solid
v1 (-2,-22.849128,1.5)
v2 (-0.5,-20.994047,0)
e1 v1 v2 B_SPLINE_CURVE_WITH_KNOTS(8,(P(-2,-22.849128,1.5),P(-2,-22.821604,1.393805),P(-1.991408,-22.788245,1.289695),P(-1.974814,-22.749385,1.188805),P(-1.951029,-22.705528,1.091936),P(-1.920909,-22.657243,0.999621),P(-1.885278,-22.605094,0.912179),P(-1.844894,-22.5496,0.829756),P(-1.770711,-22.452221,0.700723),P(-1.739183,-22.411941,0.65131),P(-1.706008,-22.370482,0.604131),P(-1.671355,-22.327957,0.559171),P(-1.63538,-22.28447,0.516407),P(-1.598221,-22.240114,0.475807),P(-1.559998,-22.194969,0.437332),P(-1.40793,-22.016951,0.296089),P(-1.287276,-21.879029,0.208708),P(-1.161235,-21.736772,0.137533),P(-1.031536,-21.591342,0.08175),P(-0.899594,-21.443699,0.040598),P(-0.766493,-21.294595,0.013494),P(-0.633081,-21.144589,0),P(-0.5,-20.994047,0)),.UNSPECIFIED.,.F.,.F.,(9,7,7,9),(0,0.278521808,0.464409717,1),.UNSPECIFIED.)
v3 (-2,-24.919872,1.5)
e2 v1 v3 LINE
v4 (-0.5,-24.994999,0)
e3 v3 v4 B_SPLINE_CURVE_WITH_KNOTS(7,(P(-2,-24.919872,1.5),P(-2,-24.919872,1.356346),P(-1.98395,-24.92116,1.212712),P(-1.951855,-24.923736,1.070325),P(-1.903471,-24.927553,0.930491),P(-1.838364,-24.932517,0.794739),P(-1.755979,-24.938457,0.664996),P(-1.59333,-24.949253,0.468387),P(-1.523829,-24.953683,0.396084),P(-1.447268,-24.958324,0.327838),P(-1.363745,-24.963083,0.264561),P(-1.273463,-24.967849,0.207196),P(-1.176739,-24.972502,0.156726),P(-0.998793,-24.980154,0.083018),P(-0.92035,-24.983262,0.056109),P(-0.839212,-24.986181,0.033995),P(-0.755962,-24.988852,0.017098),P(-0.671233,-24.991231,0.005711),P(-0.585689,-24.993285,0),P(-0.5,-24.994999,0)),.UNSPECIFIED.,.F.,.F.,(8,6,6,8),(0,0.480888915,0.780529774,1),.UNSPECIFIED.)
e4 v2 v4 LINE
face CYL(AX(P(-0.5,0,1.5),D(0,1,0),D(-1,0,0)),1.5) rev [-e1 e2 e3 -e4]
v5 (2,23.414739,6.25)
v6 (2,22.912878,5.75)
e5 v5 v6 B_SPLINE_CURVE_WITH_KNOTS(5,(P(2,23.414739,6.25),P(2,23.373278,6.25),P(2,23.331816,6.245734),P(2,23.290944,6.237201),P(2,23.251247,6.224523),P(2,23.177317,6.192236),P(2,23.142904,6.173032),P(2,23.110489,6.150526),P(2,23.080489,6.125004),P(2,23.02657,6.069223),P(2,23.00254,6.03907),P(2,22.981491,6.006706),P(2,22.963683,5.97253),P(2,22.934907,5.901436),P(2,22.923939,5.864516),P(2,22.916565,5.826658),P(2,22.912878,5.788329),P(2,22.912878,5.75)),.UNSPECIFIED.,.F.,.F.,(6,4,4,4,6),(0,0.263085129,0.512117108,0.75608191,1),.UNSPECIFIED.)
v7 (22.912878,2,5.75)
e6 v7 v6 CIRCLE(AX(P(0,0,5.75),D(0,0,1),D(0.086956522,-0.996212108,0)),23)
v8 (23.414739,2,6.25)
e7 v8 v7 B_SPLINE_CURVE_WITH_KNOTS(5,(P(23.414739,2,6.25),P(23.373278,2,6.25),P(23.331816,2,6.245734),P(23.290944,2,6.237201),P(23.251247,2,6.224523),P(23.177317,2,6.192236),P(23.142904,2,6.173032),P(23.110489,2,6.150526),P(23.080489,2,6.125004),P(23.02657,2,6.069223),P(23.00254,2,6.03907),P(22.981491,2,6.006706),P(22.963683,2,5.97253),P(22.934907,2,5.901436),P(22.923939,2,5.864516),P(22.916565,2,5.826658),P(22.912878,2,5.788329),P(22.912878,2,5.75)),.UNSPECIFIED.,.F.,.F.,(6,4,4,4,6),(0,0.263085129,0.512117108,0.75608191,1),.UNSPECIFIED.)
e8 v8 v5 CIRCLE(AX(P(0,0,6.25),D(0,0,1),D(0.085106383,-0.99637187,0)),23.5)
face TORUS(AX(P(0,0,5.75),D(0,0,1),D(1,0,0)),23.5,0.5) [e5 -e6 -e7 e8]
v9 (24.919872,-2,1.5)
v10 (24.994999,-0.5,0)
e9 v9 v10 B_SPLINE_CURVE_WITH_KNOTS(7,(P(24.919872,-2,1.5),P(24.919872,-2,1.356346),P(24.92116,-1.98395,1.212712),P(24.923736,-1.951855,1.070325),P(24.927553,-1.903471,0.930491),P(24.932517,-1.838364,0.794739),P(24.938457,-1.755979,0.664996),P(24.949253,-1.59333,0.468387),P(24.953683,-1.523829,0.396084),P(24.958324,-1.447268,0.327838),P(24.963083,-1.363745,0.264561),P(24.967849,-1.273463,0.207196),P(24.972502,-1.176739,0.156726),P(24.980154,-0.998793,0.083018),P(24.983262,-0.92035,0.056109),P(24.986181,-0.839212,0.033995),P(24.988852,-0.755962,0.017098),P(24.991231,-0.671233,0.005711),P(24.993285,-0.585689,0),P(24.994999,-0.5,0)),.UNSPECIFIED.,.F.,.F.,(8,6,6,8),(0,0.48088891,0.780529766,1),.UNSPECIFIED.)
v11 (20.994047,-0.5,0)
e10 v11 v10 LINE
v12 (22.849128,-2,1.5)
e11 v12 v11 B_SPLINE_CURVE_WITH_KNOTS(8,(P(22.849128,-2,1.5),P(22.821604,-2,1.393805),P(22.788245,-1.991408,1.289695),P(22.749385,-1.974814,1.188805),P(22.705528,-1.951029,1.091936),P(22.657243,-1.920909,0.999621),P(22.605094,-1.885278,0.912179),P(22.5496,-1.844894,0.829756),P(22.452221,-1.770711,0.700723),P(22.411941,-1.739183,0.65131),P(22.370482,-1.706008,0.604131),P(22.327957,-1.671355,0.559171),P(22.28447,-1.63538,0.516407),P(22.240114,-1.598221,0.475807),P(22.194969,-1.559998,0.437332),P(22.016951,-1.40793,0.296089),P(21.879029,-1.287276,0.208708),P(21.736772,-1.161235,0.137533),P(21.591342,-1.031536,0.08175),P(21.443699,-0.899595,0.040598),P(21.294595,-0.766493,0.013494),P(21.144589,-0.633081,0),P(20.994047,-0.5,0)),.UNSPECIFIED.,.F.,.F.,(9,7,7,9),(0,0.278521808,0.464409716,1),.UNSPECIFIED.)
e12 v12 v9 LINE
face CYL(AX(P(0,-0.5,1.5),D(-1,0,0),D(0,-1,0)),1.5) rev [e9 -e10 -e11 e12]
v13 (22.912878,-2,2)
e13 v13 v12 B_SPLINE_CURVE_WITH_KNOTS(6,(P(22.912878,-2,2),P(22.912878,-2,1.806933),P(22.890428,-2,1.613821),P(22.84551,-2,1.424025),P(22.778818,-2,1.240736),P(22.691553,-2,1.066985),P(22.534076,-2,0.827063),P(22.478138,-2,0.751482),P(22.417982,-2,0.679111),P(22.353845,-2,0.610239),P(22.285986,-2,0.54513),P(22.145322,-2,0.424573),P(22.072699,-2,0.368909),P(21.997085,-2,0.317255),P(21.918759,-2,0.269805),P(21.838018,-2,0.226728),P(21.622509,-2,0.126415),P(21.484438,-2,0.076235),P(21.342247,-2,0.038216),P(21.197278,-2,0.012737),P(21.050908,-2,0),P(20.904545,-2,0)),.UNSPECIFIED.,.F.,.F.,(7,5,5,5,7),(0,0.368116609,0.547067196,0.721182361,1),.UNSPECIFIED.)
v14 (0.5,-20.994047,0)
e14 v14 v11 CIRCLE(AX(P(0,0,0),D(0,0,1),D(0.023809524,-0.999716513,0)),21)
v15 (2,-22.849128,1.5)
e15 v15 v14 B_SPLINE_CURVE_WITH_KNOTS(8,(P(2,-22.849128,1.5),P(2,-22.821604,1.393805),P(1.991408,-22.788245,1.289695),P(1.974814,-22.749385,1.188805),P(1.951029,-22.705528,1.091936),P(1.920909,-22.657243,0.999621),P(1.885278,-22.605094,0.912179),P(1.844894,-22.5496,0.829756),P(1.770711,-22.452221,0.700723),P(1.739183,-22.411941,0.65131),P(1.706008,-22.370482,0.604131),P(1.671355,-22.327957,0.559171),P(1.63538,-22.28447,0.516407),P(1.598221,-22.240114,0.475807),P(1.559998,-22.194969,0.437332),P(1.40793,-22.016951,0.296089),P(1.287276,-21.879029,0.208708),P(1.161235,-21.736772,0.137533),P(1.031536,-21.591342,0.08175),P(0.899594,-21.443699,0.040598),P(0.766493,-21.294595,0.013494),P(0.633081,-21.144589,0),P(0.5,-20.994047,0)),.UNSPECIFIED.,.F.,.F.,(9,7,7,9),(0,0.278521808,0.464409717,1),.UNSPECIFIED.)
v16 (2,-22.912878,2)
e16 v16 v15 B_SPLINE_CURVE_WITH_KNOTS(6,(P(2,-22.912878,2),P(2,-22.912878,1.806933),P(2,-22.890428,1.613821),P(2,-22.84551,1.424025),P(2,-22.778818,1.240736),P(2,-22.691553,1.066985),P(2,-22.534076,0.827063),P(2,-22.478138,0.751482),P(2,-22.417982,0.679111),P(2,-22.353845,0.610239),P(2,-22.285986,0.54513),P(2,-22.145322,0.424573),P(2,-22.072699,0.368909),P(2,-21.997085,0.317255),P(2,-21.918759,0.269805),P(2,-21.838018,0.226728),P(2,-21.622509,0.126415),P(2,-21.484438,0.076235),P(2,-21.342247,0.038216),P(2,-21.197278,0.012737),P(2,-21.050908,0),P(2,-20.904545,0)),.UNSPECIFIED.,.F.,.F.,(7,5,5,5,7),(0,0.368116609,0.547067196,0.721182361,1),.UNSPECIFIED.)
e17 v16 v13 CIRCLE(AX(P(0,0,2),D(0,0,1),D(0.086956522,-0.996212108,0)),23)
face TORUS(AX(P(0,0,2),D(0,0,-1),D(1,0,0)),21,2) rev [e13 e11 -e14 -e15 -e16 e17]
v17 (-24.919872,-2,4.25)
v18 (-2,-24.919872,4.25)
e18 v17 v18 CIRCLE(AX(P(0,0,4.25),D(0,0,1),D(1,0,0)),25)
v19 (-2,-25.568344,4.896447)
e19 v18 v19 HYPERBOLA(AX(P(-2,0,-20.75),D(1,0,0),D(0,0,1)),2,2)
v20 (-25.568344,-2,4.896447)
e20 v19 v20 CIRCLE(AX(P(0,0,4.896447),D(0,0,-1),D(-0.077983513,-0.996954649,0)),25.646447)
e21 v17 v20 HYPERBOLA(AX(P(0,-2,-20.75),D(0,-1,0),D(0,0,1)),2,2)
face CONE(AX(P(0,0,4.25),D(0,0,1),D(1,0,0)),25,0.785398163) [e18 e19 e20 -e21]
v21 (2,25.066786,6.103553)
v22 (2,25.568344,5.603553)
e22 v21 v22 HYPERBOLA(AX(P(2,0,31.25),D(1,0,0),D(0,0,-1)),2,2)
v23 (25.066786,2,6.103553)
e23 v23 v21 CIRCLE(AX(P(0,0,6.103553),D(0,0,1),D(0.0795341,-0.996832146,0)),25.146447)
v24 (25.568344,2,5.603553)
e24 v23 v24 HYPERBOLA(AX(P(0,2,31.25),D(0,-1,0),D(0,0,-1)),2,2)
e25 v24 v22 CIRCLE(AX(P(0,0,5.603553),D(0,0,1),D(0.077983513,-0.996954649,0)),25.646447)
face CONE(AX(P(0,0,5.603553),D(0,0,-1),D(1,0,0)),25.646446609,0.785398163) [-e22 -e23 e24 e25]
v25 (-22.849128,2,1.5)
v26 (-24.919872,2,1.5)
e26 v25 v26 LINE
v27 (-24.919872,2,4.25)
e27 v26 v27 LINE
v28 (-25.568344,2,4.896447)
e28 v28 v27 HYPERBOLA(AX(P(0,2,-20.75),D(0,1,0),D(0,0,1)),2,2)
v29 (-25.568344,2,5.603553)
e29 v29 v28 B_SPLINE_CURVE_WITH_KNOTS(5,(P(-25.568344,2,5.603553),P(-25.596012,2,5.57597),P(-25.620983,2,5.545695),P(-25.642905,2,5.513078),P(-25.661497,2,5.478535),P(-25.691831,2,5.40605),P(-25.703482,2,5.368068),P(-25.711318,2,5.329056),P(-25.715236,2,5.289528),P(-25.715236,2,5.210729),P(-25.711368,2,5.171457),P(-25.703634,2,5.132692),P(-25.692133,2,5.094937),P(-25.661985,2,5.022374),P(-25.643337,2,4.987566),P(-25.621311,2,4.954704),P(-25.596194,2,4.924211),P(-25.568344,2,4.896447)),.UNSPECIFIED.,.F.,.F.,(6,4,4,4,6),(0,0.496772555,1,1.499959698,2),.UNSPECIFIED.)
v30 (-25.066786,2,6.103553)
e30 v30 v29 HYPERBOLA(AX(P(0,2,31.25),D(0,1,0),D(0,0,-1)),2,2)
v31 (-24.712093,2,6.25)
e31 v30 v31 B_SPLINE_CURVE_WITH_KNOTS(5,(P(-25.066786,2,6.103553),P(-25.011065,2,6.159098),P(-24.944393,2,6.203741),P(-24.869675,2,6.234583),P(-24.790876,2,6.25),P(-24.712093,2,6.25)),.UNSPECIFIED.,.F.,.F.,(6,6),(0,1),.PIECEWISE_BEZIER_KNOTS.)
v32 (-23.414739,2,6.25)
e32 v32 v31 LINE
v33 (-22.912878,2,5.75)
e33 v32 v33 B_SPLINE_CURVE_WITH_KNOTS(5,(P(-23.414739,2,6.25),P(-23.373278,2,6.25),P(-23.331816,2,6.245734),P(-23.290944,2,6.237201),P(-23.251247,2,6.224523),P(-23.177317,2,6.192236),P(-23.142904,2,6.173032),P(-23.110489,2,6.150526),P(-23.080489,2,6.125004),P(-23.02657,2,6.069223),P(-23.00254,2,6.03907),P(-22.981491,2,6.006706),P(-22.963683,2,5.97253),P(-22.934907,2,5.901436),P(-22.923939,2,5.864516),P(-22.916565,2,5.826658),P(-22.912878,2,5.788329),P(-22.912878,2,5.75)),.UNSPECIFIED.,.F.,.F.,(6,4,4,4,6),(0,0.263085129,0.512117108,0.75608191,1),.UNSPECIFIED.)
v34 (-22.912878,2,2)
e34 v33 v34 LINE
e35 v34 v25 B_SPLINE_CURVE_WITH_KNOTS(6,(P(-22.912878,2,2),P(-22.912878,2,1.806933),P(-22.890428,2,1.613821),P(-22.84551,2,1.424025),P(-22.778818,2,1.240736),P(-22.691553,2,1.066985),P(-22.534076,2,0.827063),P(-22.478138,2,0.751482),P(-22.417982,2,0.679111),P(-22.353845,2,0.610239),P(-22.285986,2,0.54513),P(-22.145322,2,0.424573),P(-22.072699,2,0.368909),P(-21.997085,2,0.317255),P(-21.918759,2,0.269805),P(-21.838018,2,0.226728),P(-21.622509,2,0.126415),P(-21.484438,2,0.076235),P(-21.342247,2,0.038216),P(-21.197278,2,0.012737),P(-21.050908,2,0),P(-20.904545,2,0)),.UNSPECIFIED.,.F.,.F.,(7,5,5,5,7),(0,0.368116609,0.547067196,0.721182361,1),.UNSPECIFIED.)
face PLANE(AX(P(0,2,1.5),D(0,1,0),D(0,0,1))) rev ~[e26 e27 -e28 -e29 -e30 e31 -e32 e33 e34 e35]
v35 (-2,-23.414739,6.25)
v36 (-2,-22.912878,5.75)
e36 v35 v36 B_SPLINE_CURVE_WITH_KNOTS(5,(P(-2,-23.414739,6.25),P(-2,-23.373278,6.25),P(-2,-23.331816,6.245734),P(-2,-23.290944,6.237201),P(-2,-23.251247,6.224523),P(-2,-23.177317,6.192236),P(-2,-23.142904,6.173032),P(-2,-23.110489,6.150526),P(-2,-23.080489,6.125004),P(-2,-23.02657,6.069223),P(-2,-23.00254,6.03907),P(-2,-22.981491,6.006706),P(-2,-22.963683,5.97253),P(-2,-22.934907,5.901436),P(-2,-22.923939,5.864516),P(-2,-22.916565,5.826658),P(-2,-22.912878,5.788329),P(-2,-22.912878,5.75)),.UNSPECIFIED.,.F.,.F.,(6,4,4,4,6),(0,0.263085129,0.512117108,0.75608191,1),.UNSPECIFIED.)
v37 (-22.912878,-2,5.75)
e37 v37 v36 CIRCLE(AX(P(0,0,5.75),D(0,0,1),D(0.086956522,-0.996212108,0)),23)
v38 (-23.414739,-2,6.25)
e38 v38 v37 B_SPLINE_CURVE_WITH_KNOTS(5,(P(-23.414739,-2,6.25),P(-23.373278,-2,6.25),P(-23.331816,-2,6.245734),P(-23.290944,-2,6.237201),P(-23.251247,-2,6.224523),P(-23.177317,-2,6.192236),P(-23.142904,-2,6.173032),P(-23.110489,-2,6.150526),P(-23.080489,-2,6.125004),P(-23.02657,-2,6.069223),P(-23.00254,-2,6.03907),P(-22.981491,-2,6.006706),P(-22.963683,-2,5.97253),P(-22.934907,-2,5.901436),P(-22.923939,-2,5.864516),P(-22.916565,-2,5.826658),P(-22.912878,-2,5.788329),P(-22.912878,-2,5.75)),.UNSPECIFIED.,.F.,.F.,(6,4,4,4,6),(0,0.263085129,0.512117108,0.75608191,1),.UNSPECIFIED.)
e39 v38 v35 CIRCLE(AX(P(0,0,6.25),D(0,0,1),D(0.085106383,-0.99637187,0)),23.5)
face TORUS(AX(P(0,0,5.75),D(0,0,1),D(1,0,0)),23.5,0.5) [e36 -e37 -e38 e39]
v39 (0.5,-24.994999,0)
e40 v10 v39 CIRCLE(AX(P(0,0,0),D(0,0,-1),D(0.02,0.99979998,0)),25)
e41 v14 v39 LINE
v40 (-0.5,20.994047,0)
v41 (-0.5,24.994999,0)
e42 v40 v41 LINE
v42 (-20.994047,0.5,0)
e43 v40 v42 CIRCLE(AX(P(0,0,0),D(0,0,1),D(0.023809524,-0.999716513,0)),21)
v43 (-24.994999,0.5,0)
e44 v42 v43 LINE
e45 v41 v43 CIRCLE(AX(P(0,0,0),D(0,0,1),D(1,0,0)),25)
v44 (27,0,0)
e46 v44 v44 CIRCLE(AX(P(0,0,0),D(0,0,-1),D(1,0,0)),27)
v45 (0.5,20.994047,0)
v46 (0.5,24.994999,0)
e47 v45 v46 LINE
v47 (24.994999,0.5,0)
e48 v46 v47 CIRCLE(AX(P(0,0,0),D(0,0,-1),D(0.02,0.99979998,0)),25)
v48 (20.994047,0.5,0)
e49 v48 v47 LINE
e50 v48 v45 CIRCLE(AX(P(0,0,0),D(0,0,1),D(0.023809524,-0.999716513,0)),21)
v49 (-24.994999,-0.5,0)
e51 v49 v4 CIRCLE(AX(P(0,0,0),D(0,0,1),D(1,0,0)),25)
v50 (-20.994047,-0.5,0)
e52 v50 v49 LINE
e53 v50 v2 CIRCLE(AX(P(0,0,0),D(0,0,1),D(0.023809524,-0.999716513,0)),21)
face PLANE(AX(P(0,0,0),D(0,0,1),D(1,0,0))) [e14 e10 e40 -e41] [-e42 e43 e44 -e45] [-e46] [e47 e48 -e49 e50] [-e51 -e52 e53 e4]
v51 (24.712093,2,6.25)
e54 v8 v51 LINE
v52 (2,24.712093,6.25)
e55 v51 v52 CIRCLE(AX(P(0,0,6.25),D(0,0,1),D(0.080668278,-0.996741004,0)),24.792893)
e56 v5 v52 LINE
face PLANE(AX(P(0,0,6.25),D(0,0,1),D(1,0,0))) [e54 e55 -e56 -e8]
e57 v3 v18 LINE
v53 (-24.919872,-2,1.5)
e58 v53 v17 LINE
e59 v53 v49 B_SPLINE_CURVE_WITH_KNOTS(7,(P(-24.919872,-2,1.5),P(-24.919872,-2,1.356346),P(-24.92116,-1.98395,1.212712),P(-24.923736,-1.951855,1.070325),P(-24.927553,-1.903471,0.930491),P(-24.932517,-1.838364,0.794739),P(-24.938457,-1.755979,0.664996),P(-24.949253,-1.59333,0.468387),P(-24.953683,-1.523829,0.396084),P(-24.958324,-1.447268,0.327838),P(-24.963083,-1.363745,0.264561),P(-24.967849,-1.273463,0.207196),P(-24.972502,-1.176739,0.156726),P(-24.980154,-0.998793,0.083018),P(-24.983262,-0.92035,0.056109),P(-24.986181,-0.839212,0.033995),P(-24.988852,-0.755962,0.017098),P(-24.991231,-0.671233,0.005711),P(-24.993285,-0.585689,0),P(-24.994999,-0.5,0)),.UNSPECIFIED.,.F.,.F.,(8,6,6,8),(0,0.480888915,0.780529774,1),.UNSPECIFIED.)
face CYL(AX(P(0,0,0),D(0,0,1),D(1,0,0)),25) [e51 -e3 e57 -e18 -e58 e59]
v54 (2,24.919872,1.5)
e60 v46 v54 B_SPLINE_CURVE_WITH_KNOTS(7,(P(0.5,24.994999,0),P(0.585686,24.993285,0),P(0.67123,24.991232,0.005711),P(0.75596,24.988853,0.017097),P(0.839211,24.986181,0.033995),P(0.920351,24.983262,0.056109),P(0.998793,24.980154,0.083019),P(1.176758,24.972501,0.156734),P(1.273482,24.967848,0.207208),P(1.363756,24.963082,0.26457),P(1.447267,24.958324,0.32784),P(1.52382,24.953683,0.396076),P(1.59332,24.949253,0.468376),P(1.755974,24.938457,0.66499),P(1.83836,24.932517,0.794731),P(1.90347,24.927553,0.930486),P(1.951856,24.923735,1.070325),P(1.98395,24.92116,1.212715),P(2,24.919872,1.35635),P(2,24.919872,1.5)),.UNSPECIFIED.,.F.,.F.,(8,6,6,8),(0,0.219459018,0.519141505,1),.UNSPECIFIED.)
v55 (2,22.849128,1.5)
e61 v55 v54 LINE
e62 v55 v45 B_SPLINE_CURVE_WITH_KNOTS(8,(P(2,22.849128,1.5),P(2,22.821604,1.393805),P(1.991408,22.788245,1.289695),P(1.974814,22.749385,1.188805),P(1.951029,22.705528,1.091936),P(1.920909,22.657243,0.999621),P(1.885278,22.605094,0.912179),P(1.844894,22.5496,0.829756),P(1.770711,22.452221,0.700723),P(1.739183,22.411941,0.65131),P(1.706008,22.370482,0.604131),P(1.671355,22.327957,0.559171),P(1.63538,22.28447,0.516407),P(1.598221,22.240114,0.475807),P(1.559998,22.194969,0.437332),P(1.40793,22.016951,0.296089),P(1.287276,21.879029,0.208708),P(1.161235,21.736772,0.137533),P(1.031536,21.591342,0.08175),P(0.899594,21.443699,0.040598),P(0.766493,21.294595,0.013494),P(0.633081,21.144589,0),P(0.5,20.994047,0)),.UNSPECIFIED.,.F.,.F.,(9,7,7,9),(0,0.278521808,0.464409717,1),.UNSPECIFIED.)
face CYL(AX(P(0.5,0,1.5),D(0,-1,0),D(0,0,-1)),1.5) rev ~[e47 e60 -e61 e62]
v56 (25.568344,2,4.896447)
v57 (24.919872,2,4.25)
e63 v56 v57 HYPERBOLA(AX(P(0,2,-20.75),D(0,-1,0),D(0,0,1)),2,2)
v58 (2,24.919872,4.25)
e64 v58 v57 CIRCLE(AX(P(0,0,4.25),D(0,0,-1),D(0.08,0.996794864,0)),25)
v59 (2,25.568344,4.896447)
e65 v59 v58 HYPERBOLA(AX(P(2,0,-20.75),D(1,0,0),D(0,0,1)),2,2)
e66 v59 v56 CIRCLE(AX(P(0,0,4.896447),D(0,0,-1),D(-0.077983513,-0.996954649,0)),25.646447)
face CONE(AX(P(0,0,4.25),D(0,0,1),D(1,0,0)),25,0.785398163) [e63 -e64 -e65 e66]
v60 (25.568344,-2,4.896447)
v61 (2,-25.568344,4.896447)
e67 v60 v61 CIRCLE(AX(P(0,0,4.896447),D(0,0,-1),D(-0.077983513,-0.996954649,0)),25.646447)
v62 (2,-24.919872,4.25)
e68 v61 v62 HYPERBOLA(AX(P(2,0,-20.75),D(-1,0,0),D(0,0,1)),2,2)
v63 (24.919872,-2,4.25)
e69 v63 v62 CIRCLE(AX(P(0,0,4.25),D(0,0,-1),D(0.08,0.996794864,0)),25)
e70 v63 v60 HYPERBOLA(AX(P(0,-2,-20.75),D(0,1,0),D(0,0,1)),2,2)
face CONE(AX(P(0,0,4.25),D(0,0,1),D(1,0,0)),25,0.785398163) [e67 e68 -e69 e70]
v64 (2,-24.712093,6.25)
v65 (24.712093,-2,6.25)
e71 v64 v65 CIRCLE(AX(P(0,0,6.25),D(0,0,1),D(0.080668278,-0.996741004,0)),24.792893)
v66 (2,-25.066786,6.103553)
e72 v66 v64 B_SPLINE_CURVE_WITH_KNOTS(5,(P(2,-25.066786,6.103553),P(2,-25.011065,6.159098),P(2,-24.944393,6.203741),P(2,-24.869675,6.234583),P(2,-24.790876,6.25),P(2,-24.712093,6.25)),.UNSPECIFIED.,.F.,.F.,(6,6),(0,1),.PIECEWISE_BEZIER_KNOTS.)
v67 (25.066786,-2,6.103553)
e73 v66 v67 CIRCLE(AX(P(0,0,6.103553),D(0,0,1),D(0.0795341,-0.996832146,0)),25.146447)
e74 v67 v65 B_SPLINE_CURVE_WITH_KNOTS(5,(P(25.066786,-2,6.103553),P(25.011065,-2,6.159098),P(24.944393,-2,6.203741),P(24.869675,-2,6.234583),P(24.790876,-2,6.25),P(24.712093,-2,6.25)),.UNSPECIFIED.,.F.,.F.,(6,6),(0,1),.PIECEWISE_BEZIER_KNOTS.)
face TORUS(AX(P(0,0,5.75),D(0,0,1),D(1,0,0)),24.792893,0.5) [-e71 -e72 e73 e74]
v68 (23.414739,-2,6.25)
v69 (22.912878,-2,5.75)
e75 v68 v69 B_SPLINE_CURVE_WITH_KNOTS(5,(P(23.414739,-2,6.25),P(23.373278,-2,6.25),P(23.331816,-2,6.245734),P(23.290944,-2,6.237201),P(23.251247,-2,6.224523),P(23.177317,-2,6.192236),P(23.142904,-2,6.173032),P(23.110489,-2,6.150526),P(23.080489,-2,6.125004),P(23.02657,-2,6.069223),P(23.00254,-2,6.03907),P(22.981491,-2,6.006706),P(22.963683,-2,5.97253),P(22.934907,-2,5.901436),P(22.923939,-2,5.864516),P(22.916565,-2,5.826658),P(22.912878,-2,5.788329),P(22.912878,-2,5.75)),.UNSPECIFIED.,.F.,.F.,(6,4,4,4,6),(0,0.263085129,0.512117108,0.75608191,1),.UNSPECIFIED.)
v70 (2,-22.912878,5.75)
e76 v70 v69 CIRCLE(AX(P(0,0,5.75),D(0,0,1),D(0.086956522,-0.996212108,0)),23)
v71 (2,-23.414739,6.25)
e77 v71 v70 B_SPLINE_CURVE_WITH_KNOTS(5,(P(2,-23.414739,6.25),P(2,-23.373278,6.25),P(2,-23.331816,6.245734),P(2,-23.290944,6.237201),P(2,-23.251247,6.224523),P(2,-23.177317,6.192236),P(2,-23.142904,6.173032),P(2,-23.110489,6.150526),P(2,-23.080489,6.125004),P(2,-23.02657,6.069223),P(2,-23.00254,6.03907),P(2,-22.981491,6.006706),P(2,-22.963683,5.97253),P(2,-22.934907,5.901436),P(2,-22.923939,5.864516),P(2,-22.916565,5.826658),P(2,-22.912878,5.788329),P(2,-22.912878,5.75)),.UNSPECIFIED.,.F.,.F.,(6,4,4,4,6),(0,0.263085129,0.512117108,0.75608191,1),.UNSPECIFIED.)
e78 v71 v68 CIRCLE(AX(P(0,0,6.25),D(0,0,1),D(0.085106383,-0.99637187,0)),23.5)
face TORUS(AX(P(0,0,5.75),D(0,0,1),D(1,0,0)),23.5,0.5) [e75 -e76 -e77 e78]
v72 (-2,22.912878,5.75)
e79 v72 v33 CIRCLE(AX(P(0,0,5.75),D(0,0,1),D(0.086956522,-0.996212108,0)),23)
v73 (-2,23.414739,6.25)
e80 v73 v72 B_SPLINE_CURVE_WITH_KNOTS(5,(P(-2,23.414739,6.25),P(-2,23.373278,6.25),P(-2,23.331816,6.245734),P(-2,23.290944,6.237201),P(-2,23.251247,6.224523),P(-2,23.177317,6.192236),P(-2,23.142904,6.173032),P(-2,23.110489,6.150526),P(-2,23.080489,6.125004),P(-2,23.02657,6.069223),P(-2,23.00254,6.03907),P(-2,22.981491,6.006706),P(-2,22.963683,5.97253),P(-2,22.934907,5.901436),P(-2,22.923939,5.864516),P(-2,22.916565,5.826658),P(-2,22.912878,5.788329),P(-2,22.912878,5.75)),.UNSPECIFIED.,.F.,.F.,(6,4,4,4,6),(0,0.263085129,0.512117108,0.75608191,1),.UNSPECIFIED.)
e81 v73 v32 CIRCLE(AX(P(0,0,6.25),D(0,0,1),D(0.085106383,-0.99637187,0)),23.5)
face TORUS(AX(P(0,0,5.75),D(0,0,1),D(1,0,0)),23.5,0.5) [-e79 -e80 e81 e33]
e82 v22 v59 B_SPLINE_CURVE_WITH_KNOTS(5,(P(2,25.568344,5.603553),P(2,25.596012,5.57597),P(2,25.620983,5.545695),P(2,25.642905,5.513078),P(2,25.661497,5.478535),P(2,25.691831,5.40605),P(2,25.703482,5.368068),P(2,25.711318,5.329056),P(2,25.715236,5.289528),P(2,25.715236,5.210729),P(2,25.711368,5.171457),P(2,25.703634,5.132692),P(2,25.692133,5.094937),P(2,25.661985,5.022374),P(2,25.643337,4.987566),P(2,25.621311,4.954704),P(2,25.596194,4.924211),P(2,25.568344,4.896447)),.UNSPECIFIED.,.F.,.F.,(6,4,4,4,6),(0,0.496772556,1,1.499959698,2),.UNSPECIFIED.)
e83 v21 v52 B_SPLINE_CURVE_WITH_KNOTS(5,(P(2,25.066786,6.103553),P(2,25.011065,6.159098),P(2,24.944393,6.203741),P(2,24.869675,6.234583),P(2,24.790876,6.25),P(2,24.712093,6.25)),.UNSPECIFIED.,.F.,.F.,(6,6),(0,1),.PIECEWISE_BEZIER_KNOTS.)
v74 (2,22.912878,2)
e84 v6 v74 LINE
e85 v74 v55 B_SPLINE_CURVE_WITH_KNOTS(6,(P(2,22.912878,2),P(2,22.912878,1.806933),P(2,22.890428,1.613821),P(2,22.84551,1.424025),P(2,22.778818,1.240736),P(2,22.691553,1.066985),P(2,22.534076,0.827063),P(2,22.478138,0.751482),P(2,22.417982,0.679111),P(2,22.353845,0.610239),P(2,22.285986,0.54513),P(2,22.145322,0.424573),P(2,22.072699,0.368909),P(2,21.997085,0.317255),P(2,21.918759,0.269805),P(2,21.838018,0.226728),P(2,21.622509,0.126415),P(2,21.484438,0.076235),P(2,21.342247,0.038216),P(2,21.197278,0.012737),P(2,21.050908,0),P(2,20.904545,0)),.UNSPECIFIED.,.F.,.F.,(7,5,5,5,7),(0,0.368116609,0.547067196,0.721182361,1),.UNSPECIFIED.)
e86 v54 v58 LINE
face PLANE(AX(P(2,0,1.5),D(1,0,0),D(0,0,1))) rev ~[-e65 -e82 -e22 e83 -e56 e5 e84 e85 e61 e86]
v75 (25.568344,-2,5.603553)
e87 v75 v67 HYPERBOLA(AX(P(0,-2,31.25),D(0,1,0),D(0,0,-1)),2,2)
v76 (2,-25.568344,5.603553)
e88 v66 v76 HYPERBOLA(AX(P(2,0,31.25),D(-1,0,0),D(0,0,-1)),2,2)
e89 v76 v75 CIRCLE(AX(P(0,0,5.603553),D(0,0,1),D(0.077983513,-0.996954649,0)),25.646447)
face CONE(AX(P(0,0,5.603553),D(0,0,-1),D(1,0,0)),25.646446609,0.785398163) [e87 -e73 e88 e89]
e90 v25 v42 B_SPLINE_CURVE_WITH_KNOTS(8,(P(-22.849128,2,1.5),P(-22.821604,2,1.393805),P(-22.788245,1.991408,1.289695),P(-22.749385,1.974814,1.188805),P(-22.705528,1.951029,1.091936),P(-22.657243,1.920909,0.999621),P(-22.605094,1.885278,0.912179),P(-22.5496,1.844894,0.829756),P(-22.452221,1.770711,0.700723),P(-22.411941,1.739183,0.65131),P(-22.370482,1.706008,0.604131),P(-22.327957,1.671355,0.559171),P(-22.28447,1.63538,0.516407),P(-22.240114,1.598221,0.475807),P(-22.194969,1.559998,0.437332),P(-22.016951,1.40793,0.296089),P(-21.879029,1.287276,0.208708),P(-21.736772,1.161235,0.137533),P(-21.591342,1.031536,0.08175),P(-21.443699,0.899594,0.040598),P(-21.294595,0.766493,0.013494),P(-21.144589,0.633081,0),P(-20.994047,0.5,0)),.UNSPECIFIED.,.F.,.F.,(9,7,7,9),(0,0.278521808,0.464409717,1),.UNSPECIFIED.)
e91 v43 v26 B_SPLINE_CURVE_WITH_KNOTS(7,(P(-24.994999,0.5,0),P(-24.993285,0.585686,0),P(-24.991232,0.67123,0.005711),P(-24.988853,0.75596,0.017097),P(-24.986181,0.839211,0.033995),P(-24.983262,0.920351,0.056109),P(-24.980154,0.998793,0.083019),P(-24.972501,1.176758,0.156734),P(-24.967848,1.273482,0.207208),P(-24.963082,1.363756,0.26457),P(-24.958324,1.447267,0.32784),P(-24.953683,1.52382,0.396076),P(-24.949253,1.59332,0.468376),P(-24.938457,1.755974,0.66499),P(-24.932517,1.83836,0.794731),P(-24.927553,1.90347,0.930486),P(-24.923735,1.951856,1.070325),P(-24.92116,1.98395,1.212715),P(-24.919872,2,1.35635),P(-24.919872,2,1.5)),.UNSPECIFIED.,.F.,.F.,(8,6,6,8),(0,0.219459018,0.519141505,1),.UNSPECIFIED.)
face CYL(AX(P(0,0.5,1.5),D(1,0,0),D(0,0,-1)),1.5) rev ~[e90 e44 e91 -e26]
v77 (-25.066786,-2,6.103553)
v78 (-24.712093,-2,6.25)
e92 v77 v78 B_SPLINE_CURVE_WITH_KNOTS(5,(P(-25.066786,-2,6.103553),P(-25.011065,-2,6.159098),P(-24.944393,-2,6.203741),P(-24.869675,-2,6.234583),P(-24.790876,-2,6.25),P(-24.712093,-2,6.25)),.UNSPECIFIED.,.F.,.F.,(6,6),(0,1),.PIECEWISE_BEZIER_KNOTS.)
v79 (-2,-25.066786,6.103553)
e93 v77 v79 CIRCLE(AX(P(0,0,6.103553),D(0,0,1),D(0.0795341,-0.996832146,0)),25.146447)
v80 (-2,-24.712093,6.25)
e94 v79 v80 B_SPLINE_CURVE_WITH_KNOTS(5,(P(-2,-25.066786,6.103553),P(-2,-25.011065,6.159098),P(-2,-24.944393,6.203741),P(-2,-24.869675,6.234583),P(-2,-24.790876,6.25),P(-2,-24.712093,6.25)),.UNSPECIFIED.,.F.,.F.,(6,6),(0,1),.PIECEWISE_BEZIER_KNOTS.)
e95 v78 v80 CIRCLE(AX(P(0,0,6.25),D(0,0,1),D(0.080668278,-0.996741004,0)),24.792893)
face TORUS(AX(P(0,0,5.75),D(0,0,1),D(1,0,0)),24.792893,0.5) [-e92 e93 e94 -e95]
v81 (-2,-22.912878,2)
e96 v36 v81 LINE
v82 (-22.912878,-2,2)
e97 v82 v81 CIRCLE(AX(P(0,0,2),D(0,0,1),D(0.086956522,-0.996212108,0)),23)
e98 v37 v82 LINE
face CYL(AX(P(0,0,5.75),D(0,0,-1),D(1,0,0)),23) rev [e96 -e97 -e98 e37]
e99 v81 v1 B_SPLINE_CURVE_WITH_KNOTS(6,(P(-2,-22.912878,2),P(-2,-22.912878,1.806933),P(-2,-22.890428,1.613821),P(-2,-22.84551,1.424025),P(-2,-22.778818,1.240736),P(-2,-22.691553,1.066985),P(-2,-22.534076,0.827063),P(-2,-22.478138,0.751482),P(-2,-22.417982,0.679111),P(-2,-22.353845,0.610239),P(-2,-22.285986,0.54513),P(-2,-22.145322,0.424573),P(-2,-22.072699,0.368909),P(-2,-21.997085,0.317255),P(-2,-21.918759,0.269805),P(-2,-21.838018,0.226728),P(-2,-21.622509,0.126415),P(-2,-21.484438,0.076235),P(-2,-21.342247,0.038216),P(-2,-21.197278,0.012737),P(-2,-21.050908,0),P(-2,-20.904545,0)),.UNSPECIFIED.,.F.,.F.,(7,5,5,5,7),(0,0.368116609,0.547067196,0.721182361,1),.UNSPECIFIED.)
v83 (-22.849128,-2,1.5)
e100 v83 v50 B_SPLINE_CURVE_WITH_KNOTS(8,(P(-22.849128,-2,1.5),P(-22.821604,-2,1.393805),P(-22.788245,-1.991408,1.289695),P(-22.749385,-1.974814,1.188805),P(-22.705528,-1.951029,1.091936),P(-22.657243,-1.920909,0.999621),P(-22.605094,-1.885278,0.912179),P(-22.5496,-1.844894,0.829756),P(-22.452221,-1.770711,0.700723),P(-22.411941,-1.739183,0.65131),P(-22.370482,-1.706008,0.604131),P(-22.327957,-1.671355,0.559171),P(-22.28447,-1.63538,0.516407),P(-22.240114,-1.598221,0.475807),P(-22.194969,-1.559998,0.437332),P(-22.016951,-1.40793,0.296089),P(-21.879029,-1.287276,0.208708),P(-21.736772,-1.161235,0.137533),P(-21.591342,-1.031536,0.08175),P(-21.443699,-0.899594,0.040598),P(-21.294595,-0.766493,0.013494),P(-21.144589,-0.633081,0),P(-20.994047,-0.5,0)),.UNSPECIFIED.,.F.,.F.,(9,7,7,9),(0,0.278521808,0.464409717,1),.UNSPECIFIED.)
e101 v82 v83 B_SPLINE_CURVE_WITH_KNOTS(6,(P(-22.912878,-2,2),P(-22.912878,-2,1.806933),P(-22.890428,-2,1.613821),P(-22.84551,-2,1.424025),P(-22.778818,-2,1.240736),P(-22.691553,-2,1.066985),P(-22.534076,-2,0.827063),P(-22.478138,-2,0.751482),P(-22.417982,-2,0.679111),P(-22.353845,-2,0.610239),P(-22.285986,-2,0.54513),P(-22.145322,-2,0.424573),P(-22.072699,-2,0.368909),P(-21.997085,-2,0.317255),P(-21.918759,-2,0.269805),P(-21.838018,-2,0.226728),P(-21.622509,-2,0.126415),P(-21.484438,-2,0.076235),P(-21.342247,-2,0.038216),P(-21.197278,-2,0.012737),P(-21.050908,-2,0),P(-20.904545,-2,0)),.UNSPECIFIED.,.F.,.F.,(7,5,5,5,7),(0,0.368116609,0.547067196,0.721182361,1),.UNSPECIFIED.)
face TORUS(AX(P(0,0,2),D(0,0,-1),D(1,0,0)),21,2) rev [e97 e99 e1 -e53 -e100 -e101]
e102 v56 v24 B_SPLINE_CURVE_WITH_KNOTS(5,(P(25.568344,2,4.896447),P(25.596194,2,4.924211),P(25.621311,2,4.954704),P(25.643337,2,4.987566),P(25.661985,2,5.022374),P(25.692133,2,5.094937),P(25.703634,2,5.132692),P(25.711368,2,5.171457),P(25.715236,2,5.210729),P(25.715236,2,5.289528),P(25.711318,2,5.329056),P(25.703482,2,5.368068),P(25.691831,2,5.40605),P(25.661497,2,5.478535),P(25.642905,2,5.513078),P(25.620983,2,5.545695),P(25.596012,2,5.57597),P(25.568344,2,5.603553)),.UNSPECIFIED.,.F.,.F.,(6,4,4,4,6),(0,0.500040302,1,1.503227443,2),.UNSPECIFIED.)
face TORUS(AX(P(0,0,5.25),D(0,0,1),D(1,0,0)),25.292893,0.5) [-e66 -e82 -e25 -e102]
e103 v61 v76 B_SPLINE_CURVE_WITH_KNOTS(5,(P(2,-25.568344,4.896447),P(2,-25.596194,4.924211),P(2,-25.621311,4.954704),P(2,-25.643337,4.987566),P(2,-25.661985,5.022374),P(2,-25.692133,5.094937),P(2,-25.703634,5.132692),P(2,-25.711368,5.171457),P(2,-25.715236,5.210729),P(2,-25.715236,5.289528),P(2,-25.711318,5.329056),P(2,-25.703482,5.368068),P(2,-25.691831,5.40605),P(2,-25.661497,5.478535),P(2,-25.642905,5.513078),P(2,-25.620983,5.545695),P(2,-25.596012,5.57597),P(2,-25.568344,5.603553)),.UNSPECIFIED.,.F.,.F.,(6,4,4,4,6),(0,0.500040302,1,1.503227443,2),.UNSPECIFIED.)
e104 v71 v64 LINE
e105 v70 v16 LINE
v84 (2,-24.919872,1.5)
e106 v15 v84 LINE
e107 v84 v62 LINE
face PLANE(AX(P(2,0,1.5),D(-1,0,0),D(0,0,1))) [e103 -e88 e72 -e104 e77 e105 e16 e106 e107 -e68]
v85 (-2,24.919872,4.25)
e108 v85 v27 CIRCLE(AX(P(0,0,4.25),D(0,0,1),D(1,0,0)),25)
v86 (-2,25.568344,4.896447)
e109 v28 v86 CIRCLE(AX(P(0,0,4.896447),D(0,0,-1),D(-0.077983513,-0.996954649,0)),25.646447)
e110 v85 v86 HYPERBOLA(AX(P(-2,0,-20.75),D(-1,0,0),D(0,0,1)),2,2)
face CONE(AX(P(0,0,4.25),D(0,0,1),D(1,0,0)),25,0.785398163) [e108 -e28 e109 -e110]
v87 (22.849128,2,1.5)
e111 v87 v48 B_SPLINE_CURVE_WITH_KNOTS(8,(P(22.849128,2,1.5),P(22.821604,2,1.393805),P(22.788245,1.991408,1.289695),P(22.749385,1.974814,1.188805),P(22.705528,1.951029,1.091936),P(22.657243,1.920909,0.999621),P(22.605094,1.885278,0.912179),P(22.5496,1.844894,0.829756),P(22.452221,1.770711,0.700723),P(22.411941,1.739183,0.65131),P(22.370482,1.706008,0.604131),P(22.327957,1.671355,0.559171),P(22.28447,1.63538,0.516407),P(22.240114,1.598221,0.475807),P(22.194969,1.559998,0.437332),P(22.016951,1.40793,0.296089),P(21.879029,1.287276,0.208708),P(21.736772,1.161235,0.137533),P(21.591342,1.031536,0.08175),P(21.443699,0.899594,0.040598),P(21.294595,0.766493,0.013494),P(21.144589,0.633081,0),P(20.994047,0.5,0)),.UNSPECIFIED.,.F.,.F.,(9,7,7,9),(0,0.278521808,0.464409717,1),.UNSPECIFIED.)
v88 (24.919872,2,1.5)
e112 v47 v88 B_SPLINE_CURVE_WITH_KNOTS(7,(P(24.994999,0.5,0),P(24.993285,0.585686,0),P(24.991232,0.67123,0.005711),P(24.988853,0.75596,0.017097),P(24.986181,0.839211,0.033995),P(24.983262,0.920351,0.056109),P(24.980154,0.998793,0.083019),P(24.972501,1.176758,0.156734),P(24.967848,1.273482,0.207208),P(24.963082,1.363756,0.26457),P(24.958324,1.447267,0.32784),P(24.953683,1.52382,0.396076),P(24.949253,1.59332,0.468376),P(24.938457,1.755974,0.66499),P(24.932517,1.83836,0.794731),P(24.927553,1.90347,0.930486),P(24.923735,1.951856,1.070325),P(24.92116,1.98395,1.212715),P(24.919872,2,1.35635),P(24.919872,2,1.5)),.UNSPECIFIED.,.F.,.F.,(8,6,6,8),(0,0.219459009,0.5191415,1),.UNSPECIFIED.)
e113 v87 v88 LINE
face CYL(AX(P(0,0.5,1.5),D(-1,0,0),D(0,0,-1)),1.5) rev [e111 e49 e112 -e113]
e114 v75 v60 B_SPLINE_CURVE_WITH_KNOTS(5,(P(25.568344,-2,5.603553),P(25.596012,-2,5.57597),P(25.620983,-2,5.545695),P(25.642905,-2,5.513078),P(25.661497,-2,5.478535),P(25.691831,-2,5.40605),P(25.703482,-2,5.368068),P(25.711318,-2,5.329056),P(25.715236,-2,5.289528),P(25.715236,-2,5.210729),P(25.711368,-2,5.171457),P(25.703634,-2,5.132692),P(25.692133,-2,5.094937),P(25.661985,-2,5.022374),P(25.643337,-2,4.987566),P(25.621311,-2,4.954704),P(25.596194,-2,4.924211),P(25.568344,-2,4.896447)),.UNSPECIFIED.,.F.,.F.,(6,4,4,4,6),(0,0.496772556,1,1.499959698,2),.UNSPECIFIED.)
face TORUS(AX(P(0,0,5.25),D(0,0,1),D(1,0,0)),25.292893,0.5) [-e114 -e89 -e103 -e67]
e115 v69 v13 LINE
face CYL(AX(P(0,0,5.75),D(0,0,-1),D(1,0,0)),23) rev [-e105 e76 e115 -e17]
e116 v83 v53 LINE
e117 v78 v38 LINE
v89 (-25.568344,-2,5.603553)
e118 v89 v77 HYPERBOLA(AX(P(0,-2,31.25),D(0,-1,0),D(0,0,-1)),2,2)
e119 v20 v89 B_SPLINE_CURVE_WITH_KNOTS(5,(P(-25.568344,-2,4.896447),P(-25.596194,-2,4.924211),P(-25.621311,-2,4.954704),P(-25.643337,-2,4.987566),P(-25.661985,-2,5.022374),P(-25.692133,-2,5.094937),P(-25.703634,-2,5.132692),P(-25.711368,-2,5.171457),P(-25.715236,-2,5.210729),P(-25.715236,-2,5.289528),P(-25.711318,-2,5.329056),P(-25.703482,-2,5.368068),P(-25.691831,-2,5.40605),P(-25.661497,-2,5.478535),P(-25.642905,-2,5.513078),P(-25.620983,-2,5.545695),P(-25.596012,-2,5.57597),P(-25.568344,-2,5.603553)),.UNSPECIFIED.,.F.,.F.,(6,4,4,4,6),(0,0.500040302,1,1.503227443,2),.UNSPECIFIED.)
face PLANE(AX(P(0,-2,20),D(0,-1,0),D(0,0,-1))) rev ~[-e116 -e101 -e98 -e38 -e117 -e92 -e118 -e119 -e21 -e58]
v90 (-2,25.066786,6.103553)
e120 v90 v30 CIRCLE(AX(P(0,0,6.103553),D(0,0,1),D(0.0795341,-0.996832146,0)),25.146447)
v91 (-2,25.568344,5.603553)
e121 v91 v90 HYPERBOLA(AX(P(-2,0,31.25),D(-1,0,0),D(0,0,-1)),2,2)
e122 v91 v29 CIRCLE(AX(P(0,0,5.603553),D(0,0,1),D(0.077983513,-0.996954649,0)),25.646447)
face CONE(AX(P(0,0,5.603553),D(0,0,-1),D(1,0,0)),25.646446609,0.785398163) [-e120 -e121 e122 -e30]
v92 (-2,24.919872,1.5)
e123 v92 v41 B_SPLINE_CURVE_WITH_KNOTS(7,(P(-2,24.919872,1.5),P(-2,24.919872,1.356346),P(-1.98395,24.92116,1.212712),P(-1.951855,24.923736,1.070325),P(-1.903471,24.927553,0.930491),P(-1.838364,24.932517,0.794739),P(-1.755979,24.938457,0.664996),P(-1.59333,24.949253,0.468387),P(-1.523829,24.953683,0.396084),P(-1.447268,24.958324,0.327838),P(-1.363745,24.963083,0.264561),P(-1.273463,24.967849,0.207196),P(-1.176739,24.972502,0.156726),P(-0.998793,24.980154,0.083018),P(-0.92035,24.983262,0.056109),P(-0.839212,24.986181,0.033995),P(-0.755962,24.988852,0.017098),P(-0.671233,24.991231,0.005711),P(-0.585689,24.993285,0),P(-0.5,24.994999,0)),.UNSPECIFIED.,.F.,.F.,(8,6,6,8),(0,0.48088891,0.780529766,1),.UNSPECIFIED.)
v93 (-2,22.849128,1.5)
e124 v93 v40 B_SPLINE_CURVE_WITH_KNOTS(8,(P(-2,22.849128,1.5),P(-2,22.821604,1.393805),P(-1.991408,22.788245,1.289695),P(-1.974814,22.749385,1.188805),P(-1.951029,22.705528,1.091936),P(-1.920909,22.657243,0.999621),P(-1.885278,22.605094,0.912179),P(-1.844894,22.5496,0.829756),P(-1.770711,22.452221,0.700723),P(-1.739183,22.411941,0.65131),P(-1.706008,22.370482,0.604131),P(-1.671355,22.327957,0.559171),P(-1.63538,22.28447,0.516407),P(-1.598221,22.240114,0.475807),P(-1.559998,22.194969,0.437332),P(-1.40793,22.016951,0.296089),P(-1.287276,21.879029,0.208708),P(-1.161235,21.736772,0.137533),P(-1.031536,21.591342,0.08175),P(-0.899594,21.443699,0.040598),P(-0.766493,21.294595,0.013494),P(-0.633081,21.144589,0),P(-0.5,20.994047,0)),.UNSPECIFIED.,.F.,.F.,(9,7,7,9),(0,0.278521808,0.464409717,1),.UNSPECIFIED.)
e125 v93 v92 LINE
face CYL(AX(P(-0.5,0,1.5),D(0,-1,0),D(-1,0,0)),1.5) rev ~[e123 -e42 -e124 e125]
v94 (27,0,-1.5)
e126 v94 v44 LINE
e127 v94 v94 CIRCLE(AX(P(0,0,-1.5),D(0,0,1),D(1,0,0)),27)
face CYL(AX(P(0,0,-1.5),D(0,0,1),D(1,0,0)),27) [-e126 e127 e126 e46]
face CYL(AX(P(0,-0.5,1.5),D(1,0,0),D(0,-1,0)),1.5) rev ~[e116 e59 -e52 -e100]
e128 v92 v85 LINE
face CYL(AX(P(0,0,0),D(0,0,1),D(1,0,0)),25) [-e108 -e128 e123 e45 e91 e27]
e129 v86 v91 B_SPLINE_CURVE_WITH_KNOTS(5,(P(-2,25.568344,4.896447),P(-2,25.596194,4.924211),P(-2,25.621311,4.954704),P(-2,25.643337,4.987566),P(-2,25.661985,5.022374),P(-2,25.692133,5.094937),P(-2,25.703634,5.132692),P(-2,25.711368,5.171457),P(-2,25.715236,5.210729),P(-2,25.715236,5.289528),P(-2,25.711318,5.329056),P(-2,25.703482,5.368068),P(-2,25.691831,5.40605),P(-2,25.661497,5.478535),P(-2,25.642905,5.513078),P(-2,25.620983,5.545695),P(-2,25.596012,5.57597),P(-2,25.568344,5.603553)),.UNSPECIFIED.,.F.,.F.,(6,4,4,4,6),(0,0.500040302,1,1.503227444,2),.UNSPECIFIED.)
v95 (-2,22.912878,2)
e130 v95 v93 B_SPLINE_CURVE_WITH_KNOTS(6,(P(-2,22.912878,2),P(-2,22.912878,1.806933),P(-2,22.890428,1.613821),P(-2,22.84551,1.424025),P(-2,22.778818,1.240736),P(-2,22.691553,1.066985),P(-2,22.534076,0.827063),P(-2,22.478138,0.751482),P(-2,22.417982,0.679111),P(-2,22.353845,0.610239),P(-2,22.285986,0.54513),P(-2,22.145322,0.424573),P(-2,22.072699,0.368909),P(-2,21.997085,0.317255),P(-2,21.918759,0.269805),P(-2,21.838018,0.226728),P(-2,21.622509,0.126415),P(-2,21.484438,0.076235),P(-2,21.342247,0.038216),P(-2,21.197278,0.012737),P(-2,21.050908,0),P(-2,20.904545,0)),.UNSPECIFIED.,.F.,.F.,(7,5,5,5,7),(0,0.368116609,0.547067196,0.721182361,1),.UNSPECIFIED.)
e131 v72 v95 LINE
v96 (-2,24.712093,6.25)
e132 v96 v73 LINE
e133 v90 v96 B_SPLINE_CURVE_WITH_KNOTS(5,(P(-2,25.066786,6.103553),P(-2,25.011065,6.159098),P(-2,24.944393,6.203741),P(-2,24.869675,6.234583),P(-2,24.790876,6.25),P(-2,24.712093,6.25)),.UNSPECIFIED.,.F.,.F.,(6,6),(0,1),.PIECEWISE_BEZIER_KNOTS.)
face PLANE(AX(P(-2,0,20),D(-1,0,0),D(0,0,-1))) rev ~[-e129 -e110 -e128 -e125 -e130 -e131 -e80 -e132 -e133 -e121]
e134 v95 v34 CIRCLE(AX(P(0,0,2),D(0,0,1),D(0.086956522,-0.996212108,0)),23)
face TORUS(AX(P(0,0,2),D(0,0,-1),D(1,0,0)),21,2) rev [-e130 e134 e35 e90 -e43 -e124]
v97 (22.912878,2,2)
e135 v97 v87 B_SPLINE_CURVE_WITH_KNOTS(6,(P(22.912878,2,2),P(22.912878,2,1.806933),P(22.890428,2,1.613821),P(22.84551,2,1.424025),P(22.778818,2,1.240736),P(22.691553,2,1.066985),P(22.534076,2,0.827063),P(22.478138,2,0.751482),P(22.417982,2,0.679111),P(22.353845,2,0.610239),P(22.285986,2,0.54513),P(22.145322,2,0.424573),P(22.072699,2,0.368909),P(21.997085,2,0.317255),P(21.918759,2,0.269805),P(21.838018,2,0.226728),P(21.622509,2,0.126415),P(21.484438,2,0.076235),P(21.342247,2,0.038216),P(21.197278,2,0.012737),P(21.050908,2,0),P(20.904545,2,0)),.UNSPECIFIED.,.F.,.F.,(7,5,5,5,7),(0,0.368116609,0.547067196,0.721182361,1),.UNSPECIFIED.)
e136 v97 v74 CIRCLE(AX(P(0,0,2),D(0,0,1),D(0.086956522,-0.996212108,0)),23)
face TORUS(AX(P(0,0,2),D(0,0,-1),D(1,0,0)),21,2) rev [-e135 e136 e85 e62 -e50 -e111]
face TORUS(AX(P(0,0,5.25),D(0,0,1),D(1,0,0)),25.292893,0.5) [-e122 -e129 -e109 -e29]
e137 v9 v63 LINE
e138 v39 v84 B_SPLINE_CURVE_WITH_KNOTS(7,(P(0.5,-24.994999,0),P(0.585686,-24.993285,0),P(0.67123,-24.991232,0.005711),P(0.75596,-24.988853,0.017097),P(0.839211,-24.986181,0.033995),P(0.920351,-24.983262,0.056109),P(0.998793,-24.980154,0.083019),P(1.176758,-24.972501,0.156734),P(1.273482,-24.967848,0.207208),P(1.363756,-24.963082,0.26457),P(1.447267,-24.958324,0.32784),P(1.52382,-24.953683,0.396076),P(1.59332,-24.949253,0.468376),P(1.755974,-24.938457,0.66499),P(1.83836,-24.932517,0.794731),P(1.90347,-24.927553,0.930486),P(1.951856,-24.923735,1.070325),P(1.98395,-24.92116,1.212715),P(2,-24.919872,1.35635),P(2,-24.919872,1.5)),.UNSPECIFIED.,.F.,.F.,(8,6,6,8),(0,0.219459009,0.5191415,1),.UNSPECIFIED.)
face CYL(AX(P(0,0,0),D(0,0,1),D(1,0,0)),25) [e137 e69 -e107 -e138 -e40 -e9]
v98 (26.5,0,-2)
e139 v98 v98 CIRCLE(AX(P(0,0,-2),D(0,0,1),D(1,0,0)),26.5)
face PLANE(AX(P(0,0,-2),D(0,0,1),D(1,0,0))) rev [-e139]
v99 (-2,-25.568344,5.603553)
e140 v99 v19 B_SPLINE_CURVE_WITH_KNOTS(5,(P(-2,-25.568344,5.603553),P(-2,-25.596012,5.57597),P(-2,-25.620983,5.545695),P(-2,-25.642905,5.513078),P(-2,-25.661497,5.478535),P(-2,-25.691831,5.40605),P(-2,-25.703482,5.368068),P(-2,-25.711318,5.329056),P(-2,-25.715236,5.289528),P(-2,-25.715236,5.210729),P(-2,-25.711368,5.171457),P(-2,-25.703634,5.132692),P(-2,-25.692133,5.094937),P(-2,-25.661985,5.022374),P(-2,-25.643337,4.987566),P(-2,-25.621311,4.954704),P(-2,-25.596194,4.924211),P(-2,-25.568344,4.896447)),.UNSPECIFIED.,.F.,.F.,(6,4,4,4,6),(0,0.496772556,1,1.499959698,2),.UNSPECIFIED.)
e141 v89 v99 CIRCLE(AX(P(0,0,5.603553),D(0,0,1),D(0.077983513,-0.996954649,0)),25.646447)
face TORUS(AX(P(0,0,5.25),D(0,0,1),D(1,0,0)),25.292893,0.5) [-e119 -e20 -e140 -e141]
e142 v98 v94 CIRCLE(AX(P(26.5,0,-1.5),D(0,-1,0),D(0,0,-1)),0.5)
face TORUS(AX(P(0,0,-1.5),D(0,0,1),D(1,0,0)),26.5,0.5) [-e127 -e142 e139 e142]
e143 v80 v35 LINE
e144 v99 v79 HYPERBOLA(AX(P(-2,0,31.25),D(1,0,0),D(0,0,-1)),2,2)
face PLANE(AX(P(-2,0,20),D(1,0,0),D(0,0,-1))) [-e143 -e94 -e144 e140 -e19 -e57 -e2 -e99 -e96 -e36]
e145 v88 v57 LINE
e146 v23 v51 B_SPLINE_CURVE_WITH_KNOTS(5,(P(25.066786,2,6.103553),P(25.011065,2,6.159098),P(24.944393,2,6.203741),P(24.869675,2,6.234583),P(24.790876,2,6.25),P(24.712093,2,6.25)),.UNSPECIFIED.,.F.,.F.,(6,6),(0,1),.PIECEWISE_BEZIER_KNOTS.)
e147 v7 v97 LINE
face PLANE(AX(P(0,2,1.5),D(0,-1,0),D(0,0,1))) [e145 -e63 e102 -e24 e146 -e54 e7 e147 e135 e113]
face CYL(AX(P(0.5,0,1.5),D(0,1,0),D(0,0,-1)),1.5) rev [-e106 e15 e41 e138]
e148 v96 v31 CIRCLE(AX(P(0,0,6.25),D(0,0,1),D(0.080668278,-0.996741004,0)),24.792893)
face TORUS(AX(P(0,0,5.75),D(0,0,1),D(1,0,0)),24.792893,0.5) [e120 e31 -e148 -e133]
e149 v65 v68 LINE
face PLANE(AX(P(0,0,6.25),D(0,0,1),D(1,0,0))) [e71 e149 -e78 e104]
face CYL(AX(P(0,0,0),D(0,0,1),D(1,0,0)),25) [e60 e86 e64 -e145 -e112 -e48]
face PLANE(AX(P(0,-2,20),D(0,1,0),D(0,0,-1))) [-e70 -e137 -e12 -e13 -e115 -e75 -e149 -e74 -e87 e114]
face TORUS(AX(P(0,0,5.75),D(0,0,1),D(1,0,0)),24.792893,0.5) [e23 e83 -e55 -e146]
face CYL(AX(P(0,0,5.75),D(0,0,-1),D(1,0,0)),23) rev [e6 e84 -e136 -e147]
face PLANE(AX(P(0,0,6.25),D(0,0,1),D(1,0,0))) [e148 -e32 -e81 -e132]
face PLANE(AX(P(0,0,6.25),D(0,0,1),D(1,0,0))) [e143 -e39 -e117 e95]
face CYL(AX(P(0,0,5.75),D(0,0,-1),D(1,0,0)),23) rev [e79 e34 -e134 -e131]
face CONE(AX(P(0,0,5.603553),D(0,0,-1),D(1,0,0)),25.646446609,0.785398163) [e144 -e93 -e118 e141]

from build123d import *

# Parameters (mm, degrees)
F3_DEPTH      = 27.001
F3_DEPTH_BACK = 27.001
F5_DEPTH      = 27.0010001
F5_DEPTH_BACK = 27.0010001


with BuildPart() as f1:
    # F0 (on Front) → F1 (revolve)
    with BuildSketch(Plane.XZ):
        with BuildLine():
            Line((0, 0), (0, -2))
            Line((0, -2), (26.5, -2))
            ThreePointArc((26.5, -2), (26.8535533906, -1.8535533906), (27, -1.5))
            Line((27, -1.5), (27, 0))
            Line((27, 0), (25, 0))
            Line((25, 0), (25, 4.25))
            Line((25, 4.25), (25.6464466094, 4.8964466094))
            ThreePointArc((25.6464466094, 4.8964466094), (25.7928932188, 5.25), (25.6464466094, 5.6035533906))
            Line((25.6464466094, 5.6035533906), (25.1464466094, 6.1035533906))
            ThreePointArc((25.1464466094, 6.1035533906), (24.984234935, 6.2119397663), (24.7928932188, 6.25))
            Line((24.7928932188, 6.25), (23.5, 6.25))
            ThreePointArc((23.5, 6.25), (23.1464466094, 6.1035533906), (23, 5.75))
            Line((23, 5.75), (23, 2))
            ThreePointArc((23, 2), (22.4142135624, 0.5857864376), (21, 0))
            Line((21, 0), (0, 0))
        make_face()
    revolve(axis=Axis((0, 0, 12.0319147983), (0, 0, 1)))

    # F2 (on Front) → F3 (cut, two sides)
    with BuildSketch(Plane.XZ) as f3_sk:
        with BuildLine():
            Line((2, 20), (-2, 20))
            Line((-2, 20), (-2, 1.5))
            ThreePointArc((-2, 1.5), (-1.5606601718, 0.4393398282), (-0.5, 0))
            Line((-0.5, 0), (0.5, 0))
            ThreePointArc((0.5, 0), (1.5606601718, 0.4393398282), (2, 1.5))
            Line((2, 1.5), (2, 20))
        make_face()
    extrude(amount=F3_DEPTH, mode=Mode.SUBTRACT)
    extrude(f3_sk.sketch, amount=-F3_DEPTH_BACK, mode=Mode.SUBTRACT)

    # F4 (on Right) → F5 (cut, two sides)
    with BuildSketch(Plane.YZ) as f5_sk:
        with BuildLine():
            Line((2, 1.5), (2, 20))
            Line((2, 20), (-2, 20))
            Line((-2, 20), (-2, 1.5))
            ThreePointArc((-2, 1.5), (-1.5606601718, 0.4393398282), (-0.5, 0))
            Line((-0.5, 0), (0.5, 0))
            ThreePointArc((0.5, 0), (1.5606601718, 0.4393398282), (2, 1.5))
        make_face()
    extrude(amount=-F5_DEPTH, mode=Mode.SUBTRACT)
    extrude(f5_sk.sketch, amount=F5_DEPTH_BACK, mode=Mode.SUBTRACT)


solid = f1.part
